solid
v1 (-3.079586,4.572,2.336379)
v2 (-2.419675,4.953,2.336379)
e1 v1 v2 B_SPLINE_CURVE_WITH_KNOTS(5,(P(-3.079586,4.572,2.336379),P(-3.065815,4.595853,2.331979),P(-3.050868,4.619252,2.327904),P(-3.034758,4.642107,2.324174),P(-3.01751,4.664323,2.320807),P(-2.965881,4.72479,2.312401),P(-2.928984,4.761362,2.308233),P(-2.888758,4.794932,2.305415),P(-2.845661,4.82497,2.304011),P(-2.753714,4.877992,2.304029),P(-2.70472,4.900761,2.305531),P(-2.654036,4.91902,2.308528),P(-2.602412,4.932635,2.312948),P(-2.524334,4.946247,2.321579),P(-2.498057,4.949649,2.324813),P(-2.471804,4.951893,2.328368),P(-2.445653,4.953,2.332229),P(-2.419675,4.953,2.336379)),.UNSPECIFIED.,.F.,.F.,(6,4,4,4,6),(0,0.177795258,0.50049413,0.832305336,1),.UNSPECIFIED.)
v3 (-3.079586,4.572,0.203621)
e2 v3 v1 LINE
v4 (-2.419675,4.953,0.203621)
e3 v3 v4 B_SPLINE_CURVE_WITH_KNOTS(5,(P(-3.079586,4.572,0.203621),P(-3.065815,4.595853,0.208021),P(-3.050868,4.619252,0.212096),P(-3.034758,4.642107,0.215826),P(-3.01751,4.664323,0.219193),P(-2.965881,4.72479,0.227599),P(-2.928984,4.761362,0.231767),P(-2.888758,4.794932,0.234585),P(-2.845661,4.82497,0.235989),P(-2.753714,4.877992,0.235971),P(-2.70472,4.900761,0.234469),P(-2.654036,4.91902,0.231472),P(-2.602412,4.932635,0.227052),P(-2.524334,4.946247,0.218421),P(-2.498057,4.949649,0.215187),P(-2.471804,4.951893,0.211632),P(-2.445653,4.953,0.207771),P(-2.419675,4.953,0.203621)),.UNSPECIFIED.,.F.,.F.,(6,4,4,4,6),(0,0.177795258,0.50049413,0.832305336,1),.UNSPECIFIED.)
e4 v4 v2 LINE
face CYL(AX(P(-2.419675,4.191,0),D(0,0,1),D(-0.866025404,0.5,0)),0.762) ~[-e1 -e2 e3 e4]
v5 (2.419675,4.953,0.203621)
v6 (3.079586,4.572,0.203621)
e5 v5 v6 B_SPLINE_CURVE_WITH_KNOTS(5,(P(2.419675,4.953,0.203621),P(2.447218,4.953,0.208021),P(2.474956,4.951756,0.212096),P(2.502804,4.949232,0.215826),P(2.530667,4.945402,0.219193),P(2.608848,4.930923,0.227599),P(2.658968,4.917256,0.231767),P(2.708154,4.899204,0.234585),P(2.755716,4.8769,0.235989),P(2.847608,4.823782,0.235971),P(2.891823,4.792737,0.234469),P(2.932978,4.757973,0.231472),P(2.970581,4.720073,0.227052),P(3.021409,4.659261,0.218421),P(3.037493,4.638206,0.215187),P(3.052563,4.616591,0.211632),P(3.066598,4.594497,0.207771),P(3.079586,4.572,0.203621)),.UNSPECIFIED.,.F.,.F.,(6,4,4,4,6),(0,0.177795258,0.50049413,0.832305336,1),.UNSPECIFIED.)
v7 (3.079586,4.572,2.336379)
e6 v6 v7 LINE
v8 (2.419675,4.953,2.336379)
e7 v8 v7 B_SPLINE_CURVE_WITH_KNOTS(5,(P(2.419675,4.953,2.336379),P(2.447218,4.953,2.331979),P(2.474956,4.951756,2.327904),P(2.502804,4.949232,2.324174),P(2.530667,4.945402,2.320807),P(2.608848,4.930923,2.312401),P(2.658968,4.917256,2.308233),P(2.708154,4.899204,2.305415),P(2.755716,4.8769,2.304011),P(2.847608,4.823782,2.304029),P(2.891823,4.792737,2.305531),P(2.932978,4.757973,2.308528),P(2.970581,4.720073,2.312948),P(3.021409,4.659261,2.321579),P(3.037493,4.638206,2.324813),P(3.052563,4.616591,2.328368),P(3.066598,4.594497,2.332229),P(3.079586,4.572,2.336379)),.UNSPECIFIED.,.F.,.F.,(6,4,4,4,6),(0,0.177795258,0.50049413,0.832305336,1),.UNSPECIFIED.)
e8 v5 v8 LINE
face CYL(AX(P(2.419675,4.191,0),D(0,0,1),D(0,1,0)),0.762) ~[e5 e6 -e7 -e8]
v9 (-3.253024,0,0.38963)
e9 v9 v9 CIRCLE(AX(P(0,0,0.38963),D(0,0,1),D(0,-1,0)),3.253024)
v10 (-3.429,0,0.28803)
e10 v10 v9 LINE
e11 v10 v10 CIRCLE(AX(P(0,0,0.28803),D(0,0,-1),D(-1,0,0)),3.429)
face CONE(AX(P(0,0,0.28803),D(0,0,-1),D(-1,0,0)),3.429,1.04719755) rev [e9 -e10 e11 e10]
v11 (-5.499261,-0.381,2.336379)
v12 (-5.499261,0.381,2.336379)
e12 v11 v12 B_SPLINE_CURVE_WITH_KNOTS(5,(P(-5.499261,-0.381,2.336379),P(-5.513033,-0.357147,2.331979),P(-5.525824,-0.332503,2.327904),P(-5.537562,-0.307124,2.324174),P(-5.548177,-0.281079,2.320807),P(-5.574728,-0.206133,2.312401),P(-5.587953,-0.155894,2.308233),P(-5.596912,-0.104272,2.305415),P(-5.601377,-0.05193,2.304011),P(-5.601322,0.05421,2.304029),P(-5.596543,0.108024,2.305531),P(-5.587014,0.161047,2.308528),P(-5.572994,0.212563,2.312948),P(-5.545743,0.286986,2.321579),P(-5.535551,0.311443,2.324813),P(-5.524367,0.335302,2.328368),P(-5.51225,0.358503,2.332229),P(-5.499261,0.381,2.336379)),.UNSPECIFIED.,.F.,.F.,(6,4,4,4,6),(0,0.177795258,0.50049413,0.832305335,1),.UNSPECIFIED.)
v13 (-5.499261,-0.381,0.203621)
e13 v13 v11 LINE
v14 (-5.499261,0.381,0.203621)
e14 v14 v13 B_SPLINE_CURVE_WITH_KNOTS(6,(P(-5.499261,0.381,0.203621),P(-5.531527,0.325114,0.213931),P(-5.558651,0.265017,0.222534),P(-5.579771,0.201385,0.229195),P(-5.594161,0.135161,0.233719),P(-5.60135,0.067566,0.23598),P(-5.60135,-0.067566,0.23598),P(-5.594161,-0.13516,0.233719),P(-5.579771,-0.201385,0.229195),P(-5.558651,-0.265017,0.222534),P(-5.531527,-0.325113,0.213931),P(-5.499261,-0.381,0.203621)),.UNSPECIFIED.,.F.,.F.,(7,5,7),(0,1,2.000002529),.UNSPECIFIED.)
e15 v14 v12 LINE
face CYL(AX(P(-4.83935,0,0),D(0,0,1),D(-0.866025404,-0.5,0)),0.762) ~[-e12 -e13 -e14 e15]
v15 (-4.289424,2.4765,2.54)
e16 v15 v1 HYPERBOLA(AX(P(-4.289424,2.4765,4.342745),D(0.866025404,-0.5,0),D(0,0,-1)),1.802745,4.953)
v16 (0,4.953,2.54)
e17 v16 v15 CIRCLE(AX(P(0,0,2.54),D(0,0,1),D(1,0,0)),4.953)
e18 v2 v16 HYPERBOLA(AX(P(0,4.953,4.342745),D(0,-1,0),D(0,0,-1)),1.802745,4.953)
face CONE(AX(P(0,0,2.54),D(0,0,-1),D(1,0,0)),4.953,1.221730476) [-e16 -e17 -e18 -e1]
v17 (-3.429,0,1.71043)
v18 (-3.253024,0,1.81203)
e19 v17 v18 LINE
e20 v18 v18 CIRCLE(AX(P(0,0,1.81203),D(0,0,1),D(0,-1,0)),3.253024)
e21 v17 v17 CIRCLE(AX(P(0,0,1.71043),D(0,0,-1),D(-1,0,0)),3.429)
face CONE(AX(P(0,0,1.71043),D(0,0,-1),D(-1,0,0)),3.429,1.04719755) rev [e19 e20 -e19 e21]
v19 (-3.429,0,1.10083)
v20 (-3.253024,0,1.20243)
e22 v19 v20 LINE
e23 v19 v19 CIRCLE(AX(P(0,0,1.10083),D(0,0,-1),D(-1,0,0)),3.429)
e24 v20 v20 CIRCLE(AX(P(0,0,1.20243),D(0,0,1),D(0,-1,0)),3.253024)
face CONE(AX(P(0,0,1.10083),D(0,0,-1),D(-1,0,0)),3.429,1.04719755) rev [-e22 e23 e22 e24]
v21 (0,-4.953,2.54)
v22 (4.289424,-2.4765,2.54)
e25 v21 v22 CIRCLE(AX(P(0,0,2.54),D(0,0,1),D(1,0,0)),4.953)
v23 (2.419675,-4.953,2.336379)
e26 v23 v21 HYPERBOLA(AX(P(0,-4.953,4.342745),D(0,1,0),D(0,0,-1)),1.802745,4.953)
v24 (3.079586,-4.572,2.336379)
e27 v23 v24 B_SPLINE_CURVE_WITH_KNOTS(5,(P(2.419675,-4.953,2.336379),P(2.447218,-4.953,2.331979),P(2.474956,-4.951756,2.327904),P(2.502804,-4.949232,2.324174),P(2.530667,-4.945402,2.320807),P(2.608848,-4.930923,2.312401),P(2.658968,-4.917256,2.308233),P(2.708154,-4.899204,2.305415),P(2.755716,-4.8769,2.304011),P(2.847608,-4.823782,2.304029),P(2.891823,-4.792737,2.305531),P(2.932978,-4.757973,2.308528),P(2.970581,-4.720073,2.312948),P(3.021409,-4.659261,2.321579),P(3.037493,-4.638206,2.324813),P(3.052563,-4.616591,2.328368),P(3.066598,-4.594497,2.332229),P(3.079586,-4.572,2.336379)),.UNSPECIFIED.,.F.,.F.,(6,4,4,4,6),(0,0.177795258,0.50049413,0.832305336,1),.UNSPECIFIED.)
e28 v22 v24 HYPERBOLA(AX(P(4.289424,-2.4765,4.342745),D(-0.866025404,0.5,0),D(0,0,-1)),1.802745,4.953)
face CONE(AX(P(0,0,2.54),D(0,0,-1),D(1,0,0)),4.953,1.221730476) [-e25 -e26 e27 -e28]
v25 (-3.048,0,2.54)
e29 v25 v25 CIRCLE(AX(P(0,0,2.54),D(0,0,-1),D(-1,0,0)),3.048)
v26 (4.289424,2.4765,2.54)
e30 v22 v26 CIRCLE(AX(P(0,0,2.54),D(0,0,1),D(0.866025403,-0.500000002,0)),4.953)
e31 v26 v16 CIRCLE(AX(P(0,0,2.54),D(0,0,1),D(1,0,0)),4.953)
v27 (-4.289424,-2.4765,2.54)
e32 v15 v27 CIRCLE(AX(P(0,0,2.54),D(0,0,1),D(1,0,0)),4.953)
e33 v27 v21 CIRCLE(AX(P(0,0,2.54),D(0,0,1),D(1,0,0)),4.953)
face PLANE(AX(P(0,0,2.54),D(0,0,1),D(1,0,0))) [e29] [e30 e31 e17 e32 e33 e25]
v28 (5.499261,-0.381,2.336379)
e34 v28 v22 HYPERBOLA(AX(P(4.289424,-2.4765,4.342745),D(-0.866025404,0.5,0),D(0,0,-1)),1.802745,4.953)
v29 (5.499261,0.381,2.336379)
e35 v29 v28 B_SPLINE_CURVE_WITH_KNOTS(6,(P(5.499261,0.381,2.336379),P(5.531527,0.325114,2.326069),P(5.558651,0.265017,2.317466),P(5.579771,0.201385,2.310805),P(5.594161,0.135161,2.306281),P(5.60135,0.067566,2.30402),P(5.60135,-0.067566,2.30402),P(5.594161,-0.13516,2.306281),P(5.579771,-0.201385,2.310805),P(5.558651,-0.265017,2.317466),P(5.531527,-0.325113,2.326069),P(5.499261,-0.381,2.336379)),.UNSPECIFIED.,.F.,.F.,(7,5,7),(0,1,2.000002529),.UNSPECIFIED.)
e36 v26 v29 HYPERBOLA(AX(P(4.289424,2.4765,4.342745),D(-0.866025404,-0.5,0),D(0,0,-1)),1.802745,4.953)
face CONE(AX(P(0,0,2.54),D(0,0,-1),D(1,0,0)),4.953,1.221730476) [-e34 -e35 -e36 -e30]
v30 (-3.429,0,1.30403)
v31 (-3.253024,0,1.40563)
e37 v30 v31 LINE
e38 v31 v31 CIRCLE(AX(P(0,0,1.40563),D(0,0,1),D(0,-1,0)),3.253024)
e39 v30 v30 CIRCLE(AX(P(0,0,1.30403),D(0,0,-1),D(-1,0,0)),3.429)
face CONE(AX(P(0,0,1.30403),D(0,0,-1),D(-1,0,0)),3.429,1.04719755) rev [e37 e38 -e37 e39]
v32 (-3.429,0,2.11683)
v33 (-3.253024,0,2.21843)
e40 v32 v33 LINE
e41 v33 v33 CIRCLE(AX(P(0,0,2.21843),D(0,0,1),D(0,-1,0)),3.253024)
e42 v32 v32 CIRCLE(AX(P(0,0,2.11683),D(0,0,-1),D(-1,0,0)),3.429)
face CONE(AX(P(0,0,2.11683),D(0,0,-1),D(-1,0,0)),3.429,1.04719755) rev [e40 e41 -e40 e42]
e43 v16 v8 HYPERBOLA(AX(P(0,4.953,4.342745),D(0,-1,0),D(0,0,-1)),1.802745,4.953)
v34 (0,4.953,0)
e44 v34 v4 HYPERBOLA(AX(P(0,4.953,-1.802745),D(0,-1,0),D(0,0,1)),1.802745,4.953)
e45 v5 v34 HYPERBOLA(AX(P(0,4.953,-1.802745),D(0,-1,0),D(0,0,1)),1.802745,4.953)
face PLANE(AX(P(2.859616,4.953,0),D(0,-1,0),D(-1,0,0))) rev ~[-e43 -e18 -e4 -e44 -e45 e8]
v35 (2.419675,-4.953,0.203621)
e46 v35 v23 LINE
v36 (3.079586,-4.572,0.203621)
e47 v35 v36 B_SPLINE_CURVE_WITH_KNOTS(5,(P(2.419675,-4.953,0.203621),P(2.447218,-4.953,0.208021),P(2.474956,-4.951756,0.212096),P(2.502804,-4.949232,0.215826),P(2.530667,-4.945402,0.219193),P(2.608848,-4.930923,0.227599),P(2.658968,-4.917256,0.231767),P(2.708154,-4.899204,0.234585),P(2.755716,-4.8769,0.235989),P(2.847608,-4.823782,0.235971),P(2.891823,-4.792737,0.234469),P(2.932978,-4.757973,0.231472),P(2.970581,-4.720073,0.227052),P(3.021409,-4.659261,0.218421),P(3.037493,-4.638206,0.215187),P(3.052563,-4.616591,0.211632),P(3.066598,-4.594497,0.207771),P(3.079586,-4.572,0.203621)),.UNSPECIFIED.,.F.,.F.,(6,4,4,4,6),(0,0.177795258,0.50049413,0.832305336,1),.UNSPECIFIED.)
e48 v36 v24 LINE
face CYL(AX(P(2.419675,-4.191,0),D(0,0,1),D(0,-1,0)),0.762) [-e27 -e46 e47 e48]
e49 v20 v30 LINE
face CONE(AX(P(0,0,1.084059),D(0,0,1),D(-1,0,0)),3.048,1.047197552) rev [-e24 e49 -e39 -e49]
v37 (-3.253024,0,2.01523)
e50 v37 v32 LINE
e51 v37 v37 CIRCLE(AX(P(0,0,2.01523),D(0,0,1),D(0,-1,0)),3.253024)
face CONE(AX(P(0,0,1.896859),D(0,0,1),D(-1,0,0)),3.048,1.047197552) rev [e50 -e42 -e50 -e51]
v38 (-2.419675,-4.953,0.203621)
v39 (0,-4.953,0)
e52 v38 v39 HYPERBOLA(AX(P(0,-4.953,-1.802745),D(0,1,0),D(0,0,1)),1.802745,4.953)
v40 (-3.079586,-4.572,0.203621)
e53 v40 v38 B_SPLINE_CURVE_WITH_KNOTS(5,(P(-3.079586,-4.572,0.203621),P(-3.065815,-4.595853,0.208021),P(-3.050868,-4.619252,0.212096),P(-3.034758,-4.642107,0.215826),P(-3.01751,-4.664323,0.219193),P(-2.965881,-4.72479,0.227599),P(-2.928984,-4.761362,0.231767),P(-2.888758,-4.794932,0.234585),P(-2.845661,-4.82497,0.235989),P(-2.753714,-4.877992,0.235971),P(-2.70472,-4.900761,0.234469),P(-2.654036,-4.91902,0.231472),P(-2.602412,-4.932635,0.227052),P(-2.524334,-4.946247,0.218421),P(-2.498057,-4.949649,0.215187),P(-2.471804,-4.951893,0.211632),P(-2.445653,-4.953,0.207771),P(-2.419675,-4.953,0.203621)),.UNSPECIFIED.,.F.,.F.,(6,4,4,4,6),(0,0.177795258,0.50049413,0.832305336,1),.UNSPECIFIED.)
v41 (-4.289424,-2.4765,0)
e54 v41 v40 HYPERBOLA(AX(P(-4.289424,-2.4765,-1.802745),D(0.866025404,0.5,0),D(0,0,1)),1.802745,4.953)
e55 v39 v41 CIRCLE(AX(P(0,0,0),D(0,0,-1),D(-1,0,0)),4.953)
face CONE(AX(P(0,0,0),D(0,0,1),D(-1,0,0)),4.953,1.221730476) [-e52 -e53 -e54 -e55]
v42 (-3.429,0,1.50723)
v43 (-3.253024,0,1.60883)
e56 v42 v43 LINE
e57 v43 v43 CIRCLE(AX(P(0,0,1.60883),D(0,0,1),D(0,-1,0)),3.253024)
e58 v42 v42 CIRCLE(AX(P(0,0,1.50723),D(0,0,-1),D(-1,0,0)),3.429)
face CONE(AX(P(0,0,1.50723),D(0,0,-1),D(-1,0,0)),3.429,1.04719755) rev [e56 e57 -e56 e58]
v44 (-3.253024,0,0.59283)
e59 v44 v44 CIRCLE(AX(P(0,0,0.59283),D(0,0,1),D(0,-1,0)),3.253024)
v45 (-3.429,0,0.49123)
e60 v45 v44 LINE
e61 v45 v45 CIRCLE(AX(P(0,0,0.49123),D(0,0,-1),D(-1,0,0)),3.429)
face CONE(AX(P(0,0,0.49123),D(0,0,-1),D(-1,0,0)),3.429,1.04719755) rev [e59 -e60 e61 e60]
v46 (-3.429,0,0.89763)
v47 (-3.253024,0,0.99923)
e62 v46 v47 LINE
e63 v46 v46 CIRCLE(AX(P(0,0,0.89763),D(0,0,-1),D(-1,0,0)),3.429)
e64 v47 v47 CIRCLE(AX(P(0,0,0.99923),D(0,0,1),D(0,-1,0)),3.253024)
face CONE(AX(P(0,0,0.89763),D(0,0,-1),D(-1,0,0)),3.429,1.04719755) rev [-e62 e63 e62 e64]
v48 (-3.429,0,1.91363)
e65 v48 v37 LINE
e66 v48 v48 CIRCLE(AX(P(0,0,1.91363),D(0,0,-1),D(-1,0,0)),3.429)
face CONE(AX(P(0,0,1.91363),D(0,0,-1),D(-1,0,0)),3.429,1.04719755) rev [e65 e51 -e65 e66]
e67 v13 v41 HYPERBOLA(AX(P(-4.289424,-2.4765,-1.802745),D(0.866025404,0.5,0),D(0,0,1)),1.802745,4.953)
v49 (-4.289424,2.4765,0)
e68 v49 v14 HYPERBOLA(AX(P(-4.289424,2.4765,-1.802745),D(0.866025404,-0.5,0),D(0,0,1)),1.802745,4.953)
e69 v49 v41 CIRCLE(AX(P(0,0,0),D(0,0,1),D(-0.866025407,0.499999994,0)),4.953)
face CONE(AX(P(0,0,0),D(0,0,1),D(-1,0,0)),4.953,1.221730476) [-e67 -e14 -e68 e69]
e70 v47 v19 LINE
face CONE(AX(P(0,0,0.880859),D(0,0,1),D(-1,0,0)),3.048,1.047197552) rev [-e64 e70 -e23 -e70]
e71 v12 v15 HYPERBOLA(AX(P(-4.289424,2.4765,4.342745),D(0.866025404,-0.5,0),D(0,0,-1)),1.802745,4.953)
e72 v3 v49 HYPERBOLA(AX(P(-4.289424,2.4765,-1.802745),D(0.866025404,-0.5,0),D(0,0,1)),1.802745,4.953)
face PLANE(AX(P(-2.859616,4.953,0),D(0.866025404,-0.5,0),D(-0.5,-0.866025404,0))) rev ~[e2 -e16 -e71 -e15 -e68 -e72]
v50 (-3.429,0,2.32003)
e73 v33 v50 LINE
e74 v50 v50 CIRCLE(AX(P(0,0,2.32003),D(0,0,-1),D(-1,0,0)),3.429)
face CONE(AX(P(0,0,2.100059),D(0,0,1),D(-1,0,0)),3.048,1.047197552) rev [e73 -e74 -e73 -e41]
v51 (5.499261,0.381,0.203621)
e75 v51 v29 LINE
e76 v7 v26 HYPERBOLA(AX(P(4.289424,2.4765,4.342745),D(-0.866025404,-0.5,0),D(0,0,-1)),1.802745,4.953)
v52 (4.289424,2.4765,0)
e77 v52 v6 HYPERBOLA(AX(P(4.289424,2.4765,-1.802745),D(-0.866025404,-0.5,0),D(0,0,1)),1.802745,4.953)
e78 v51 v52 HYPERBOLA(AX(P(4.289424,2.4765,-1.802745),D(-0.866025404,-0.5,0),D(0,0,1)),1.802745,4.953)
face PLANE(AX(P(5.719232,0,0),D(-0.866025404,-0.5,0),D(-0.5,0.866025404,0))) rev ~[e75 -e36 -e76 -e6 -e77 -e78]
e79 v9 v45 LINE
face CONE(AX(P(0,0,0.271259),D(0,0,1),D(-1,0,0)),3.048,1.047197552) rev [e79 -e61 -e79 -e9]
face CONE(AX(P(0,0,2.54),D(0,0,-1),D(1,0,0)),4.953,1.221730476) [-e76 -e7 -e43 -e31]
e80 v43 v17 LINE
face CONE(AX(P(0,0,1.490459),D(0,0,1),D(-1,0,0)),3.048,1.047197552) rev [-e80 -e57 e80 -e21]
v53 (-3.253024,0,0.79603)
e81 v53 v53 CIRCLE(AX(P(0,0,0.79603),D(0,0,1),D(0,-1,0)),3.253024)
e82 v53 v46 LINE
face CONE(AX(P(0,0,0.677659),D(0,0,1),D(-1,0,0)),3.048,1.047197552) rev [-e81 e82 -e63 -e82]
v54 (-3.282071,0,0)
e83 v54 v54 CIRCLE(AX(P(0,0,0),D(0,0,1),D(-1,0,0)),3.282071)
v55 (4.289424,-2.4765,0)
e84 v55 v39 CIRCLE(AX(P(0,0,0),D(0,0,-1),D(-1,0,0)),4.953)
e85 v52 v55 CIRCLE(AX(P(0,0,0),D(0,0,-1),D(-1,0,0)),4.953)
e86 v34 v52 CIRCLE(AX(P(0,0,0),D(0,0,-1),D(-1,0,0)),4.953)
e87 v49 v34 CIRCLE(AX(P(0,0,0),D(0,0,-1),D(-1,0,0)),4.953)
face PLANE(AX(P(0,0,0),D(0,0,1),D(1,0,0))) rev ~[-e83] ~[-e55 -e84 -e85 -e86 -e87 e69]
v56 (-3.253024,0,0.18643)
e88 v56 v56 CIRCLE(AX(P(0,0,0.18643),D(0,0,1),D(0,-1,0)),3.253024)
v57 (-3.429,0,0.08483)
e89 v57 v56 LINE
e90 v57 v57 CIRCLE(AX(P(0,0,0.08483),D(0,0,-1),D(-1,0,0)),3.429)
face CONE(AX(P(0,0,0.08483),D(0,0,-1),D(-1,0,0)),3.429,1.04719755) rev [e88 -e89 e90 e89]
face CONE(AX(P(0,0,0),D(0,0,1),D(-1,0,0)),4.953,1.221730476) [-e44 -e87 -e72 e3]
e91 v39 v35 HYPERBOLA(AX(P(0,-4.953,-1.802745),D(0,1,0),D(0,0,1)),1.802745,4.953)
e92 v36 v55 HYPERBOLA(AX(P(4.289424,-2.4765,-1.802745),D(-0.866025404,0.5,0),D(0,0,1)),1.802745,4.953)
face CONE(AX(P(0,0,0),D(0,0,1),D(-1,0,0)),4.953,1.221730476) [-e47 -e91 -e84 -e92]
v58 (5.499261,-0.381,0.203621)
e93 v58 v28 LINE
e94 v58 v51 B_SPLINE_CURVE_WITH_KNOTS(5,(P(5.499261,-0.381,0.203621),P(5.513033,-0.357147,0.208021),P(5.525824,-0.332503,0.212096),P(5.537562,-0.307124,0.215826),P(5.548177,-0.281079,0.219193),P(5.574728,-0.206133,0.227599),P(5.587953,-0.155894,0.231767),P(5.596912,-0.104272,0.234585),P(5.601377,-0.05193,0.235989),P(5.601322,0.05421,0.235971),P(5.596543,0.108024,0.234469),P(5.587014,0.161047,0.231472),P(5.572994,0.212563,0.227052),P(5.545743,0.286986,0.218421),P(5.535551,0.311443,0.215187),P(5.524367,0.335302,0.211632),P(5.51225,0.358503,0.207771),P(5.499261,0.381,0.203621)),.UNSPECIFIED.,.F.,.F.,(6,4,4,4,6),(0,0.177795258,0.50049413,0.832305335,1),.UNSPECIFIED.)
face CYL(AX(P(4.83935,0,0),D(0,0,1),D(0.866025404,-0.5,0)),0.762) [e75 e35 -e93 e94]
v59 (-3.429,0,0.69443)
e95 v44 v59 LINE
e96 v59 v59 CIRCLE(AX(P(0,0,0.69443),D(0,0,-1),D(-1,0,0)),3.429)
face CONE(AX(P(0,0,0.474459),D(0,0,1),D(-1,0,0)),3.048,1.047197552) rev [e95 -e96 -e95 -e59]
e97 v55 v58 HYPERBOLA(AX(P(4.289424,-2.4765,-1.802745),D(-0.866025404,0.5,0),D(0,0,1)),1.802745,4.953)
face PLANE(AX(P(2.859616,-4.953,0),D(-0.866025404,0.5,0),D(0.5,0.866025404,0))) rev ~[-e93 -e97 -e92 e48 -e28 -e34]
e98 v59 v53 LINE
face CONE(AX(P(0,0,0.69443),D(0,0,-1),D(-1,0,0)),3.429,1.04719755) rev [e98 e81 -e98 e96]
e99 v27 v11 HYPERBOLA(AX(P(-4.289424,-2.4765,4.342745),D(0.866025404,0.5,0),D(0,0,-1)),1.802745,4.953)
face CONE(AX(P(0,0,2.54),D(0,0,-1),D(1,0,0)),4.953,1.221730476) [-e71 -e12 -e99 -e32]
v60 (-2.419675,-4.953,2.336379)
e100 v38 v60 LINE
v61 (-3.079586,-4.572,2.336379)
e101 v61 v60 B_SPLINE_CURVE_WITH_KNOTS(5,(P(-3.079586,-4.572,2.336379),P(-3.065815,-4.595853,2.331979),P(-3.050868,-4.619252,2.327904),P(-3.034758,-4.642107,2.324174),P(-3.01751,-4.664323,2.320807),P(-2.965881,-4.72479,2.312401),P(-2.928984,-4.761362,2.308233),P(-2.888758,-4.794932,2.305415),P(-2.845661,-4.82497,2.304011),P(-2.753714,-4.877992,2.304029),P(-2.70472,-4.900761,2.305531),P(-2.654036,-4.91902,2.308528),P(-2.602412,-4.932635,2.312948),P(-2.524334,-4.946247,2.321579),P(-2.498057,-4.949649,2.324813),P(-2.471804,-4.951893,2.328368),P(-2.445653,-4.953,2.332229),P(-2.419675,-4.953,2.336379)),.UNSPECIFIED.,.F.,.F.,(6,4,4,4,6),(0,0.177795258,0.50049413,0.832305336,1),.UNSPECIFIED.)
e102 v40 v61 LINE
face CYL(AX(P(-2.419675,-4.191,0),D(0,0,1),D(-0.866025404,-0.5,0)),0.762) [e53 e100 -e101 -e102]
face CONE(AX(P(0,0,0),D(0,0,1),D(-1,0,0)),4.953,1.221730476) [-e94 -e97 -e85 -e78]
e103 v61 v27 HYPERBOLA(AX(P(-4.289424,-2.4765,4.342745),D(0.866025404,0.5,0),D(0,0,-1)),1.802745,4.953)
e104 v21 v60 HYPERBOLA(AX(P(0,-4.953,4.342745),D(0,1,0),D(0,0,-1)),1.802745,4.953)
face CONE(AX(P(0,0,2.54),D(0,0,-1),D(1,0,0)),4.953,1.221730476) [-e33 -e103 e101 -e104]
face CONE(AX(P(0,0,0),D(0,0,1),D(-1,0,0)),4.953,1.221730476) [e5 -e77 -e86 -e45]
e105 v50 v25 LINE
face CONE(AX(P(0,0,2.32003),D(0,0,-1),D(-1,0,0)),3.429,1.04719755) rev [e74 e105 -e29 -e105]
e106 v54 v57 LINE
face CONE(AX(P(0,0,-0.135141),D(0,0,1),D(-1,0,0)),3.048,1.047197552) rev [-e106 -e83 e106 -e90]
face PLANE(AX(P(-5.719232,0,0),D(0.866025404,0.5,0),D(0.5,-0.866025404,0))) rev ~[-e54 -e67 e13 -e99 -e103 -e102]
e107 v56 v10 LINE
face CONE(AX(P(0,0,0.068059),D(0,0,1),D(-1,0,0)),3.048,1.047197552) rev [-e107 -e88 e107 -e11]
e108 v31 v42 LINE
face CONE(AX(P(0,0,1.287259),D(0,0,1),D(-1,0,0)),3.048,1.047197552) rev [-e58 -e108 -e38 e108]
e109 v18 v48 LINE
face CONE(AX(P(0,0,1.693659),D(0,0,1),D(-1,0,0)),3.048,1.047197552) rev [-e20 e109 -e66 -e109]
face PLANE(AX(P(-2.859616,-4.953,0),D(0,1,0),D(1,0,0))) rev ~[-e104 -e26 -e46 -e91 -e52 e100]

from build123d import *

# Parameters (mm, degrees)
SKETCH1_R          = 3.048
EXTRUDE1_DEPTH     = 2.54
FILLET1_R          = 0.762
SKETCH2_OUTSIDE_W  = 35.688
SKETCH2_OUTSIDE_H  = 34.392
SKETCH2_OUTSIDE_R  = 4.953
CUT_EXTRUDE1_DEPTH = 3.54
CUT_EXTRUDE1_DRAFT = -70
SKETCH3_OUTSIDE_W  = 35.688
SKETCH3_OUTSIDE_H  = 34.392
SKETCH3_OUTSIDE_R  = 4.953
CUT_EXTRUDE2_DEPTH = 3.5400001
CUT_EXTRUDE2_DRAFT = -70
LPATTERN1_COUNT    = 13
LPATTERN1_PITCH    = 0.2032


with BuildPart() as part:
    # Sketch1 → Extrude1 (new body)
    with BuildSketch(Plane.XY):
        Polygon((-5.719231767, 0), (-2.859615883, -4.953), (2.859615883, -4.953), (5.719231767, 0), (2.859615883, 4.953), (-2.859615883, 4.953), align=None)
        Circle(SKETCH1_R, mode=Mode.SUBTRACT)
    extrude(amount=EXTRUDE1_DEPTH)

    # Fillet1
    fillet1_edges = [part.edges().sort_by_distance(p)[0] for p in [
        (5.719231767, 0, 1.27),
        (2.859615883, -4.953, 1.27),
        (-2.859615883, -4.953, 1.27),
        (-5.719231767, 0, 1.27),
        (-2.859615883, 4.953, 1.27),
        (2.859615883, 4.953, 1.27),
    ]]
    fillet(fillet1_edges, radius=FILLET1_R)


with BuildPart() as cut_extrude1_tool:
    # Sketch2 outside → Cut-Extrude1 (with draft: the straight prism first)
    with BuildSketch(Plane.XY.offset(2.54)):
        Rectangle(SKETCH2_OUTSIDE_W, SKETCH2_OUTSIDE_H)
        Circle(SKETCH2_OUTSIDE_R, mode=Mode.SUBTRACT)
    extrude(amount=-CUT_EXTRUDE1_DEPTH)
    # Cut-Extrude1: the draft: its side faces are tilted about the plane it starts from
    cut_extrude1_sides = [cut_extrude1_tool.faces().sort_by_distance(p)[0] for p in [
        (0, -17.196, 0.77),
        (17.844, 0, 0.77),
        (0, 17.196, 0.77),
        (-17.844, 0, 0.77),
        (-4.953, 0, 0.77),
    ]]
    draft(cut_extrude1_sides, Plane.XY.offset(2.54), CUT_EXTRUDE1_DRAFT)


with BuildPart() as part_1:
    add(part.part)

    # Cut-Extrude1: cut by cut_extrude1_tool
    add(cut_extrude1_tool.part, mode=Mode.SUBTRACT)


with BuildPart() as cut_extrude2_tool:
    # Sketch3 outside → Cut-Extrude2 (with draft: the straight prism first)
    with BuildSketch(Plane(origin=(0, 0, 0), x_dir=(-1, 0, 0), z_dir=(0, 0, -1))):
        Rectangle(SKETCH3_OUTSIDE_W, SKETCH3_OUTSIDE_H)
        Circle(SKETCH3_OUTSIDE_R, mode=Mode.SUBTRACT)
    extrude(amount=-CUT_EXTRUDE2_DEPTH)
    # Cut-Extrude2: the draft: its side faces are tilted about the plane it starts from
    cut_extrude2_sides = [cut_extrude2_tool.faces().sort_by_distance(p)[0] for p in [
        (0, -17.196, 1.77000005),
        (-17.844, 0, 1.77000005),
        (0, 17.196, 1.77000005),
        (17.844, 0, 1.77000005),
        (4.953, 0, 1.77000005),
    ]]
    draft(cut_extrude2_sides, Plane(origin=(0, 0, 0), x_dir=(-1, 0, 0), z_dir=(0, 0, -1)), CUT_EXTRUDE2_DRAFT)


with BuildPart() as part_2:
    add(part_1.part)

    # Cut-Extrude2: cut by cut_extrude2_tool
    add(cut_extrude2_tool.part, mode=Mode.SUBTRACT)

    # Sketch4 → Cut-Revolve1 (revolve, cut)
    with BuildSketch(Plane(origin=(0, 0, 0), x_dir=(1, 0, 0), z_dir=(0, 1, 0))):
        Polygon((-3.048, -2.54), (-3.048, -2.100059095), (-3.429, -2.320029547), align=None)
    cut_revolve1 = revolve(axis=Axis((0, 0, 2.54), (0, 0, -1)), mode=Mode.SUBTRACT)

    # LPattern1: Cut-Revolve1 ×13
    with Locations(*[(0, 0, -i * LPATTERN1_PITCH) for i in range(1, LPATTERN1_COUNT)]):
        add(cut_revolve1, mode=Mode.SUBTRACT)


solid = part_2.part
